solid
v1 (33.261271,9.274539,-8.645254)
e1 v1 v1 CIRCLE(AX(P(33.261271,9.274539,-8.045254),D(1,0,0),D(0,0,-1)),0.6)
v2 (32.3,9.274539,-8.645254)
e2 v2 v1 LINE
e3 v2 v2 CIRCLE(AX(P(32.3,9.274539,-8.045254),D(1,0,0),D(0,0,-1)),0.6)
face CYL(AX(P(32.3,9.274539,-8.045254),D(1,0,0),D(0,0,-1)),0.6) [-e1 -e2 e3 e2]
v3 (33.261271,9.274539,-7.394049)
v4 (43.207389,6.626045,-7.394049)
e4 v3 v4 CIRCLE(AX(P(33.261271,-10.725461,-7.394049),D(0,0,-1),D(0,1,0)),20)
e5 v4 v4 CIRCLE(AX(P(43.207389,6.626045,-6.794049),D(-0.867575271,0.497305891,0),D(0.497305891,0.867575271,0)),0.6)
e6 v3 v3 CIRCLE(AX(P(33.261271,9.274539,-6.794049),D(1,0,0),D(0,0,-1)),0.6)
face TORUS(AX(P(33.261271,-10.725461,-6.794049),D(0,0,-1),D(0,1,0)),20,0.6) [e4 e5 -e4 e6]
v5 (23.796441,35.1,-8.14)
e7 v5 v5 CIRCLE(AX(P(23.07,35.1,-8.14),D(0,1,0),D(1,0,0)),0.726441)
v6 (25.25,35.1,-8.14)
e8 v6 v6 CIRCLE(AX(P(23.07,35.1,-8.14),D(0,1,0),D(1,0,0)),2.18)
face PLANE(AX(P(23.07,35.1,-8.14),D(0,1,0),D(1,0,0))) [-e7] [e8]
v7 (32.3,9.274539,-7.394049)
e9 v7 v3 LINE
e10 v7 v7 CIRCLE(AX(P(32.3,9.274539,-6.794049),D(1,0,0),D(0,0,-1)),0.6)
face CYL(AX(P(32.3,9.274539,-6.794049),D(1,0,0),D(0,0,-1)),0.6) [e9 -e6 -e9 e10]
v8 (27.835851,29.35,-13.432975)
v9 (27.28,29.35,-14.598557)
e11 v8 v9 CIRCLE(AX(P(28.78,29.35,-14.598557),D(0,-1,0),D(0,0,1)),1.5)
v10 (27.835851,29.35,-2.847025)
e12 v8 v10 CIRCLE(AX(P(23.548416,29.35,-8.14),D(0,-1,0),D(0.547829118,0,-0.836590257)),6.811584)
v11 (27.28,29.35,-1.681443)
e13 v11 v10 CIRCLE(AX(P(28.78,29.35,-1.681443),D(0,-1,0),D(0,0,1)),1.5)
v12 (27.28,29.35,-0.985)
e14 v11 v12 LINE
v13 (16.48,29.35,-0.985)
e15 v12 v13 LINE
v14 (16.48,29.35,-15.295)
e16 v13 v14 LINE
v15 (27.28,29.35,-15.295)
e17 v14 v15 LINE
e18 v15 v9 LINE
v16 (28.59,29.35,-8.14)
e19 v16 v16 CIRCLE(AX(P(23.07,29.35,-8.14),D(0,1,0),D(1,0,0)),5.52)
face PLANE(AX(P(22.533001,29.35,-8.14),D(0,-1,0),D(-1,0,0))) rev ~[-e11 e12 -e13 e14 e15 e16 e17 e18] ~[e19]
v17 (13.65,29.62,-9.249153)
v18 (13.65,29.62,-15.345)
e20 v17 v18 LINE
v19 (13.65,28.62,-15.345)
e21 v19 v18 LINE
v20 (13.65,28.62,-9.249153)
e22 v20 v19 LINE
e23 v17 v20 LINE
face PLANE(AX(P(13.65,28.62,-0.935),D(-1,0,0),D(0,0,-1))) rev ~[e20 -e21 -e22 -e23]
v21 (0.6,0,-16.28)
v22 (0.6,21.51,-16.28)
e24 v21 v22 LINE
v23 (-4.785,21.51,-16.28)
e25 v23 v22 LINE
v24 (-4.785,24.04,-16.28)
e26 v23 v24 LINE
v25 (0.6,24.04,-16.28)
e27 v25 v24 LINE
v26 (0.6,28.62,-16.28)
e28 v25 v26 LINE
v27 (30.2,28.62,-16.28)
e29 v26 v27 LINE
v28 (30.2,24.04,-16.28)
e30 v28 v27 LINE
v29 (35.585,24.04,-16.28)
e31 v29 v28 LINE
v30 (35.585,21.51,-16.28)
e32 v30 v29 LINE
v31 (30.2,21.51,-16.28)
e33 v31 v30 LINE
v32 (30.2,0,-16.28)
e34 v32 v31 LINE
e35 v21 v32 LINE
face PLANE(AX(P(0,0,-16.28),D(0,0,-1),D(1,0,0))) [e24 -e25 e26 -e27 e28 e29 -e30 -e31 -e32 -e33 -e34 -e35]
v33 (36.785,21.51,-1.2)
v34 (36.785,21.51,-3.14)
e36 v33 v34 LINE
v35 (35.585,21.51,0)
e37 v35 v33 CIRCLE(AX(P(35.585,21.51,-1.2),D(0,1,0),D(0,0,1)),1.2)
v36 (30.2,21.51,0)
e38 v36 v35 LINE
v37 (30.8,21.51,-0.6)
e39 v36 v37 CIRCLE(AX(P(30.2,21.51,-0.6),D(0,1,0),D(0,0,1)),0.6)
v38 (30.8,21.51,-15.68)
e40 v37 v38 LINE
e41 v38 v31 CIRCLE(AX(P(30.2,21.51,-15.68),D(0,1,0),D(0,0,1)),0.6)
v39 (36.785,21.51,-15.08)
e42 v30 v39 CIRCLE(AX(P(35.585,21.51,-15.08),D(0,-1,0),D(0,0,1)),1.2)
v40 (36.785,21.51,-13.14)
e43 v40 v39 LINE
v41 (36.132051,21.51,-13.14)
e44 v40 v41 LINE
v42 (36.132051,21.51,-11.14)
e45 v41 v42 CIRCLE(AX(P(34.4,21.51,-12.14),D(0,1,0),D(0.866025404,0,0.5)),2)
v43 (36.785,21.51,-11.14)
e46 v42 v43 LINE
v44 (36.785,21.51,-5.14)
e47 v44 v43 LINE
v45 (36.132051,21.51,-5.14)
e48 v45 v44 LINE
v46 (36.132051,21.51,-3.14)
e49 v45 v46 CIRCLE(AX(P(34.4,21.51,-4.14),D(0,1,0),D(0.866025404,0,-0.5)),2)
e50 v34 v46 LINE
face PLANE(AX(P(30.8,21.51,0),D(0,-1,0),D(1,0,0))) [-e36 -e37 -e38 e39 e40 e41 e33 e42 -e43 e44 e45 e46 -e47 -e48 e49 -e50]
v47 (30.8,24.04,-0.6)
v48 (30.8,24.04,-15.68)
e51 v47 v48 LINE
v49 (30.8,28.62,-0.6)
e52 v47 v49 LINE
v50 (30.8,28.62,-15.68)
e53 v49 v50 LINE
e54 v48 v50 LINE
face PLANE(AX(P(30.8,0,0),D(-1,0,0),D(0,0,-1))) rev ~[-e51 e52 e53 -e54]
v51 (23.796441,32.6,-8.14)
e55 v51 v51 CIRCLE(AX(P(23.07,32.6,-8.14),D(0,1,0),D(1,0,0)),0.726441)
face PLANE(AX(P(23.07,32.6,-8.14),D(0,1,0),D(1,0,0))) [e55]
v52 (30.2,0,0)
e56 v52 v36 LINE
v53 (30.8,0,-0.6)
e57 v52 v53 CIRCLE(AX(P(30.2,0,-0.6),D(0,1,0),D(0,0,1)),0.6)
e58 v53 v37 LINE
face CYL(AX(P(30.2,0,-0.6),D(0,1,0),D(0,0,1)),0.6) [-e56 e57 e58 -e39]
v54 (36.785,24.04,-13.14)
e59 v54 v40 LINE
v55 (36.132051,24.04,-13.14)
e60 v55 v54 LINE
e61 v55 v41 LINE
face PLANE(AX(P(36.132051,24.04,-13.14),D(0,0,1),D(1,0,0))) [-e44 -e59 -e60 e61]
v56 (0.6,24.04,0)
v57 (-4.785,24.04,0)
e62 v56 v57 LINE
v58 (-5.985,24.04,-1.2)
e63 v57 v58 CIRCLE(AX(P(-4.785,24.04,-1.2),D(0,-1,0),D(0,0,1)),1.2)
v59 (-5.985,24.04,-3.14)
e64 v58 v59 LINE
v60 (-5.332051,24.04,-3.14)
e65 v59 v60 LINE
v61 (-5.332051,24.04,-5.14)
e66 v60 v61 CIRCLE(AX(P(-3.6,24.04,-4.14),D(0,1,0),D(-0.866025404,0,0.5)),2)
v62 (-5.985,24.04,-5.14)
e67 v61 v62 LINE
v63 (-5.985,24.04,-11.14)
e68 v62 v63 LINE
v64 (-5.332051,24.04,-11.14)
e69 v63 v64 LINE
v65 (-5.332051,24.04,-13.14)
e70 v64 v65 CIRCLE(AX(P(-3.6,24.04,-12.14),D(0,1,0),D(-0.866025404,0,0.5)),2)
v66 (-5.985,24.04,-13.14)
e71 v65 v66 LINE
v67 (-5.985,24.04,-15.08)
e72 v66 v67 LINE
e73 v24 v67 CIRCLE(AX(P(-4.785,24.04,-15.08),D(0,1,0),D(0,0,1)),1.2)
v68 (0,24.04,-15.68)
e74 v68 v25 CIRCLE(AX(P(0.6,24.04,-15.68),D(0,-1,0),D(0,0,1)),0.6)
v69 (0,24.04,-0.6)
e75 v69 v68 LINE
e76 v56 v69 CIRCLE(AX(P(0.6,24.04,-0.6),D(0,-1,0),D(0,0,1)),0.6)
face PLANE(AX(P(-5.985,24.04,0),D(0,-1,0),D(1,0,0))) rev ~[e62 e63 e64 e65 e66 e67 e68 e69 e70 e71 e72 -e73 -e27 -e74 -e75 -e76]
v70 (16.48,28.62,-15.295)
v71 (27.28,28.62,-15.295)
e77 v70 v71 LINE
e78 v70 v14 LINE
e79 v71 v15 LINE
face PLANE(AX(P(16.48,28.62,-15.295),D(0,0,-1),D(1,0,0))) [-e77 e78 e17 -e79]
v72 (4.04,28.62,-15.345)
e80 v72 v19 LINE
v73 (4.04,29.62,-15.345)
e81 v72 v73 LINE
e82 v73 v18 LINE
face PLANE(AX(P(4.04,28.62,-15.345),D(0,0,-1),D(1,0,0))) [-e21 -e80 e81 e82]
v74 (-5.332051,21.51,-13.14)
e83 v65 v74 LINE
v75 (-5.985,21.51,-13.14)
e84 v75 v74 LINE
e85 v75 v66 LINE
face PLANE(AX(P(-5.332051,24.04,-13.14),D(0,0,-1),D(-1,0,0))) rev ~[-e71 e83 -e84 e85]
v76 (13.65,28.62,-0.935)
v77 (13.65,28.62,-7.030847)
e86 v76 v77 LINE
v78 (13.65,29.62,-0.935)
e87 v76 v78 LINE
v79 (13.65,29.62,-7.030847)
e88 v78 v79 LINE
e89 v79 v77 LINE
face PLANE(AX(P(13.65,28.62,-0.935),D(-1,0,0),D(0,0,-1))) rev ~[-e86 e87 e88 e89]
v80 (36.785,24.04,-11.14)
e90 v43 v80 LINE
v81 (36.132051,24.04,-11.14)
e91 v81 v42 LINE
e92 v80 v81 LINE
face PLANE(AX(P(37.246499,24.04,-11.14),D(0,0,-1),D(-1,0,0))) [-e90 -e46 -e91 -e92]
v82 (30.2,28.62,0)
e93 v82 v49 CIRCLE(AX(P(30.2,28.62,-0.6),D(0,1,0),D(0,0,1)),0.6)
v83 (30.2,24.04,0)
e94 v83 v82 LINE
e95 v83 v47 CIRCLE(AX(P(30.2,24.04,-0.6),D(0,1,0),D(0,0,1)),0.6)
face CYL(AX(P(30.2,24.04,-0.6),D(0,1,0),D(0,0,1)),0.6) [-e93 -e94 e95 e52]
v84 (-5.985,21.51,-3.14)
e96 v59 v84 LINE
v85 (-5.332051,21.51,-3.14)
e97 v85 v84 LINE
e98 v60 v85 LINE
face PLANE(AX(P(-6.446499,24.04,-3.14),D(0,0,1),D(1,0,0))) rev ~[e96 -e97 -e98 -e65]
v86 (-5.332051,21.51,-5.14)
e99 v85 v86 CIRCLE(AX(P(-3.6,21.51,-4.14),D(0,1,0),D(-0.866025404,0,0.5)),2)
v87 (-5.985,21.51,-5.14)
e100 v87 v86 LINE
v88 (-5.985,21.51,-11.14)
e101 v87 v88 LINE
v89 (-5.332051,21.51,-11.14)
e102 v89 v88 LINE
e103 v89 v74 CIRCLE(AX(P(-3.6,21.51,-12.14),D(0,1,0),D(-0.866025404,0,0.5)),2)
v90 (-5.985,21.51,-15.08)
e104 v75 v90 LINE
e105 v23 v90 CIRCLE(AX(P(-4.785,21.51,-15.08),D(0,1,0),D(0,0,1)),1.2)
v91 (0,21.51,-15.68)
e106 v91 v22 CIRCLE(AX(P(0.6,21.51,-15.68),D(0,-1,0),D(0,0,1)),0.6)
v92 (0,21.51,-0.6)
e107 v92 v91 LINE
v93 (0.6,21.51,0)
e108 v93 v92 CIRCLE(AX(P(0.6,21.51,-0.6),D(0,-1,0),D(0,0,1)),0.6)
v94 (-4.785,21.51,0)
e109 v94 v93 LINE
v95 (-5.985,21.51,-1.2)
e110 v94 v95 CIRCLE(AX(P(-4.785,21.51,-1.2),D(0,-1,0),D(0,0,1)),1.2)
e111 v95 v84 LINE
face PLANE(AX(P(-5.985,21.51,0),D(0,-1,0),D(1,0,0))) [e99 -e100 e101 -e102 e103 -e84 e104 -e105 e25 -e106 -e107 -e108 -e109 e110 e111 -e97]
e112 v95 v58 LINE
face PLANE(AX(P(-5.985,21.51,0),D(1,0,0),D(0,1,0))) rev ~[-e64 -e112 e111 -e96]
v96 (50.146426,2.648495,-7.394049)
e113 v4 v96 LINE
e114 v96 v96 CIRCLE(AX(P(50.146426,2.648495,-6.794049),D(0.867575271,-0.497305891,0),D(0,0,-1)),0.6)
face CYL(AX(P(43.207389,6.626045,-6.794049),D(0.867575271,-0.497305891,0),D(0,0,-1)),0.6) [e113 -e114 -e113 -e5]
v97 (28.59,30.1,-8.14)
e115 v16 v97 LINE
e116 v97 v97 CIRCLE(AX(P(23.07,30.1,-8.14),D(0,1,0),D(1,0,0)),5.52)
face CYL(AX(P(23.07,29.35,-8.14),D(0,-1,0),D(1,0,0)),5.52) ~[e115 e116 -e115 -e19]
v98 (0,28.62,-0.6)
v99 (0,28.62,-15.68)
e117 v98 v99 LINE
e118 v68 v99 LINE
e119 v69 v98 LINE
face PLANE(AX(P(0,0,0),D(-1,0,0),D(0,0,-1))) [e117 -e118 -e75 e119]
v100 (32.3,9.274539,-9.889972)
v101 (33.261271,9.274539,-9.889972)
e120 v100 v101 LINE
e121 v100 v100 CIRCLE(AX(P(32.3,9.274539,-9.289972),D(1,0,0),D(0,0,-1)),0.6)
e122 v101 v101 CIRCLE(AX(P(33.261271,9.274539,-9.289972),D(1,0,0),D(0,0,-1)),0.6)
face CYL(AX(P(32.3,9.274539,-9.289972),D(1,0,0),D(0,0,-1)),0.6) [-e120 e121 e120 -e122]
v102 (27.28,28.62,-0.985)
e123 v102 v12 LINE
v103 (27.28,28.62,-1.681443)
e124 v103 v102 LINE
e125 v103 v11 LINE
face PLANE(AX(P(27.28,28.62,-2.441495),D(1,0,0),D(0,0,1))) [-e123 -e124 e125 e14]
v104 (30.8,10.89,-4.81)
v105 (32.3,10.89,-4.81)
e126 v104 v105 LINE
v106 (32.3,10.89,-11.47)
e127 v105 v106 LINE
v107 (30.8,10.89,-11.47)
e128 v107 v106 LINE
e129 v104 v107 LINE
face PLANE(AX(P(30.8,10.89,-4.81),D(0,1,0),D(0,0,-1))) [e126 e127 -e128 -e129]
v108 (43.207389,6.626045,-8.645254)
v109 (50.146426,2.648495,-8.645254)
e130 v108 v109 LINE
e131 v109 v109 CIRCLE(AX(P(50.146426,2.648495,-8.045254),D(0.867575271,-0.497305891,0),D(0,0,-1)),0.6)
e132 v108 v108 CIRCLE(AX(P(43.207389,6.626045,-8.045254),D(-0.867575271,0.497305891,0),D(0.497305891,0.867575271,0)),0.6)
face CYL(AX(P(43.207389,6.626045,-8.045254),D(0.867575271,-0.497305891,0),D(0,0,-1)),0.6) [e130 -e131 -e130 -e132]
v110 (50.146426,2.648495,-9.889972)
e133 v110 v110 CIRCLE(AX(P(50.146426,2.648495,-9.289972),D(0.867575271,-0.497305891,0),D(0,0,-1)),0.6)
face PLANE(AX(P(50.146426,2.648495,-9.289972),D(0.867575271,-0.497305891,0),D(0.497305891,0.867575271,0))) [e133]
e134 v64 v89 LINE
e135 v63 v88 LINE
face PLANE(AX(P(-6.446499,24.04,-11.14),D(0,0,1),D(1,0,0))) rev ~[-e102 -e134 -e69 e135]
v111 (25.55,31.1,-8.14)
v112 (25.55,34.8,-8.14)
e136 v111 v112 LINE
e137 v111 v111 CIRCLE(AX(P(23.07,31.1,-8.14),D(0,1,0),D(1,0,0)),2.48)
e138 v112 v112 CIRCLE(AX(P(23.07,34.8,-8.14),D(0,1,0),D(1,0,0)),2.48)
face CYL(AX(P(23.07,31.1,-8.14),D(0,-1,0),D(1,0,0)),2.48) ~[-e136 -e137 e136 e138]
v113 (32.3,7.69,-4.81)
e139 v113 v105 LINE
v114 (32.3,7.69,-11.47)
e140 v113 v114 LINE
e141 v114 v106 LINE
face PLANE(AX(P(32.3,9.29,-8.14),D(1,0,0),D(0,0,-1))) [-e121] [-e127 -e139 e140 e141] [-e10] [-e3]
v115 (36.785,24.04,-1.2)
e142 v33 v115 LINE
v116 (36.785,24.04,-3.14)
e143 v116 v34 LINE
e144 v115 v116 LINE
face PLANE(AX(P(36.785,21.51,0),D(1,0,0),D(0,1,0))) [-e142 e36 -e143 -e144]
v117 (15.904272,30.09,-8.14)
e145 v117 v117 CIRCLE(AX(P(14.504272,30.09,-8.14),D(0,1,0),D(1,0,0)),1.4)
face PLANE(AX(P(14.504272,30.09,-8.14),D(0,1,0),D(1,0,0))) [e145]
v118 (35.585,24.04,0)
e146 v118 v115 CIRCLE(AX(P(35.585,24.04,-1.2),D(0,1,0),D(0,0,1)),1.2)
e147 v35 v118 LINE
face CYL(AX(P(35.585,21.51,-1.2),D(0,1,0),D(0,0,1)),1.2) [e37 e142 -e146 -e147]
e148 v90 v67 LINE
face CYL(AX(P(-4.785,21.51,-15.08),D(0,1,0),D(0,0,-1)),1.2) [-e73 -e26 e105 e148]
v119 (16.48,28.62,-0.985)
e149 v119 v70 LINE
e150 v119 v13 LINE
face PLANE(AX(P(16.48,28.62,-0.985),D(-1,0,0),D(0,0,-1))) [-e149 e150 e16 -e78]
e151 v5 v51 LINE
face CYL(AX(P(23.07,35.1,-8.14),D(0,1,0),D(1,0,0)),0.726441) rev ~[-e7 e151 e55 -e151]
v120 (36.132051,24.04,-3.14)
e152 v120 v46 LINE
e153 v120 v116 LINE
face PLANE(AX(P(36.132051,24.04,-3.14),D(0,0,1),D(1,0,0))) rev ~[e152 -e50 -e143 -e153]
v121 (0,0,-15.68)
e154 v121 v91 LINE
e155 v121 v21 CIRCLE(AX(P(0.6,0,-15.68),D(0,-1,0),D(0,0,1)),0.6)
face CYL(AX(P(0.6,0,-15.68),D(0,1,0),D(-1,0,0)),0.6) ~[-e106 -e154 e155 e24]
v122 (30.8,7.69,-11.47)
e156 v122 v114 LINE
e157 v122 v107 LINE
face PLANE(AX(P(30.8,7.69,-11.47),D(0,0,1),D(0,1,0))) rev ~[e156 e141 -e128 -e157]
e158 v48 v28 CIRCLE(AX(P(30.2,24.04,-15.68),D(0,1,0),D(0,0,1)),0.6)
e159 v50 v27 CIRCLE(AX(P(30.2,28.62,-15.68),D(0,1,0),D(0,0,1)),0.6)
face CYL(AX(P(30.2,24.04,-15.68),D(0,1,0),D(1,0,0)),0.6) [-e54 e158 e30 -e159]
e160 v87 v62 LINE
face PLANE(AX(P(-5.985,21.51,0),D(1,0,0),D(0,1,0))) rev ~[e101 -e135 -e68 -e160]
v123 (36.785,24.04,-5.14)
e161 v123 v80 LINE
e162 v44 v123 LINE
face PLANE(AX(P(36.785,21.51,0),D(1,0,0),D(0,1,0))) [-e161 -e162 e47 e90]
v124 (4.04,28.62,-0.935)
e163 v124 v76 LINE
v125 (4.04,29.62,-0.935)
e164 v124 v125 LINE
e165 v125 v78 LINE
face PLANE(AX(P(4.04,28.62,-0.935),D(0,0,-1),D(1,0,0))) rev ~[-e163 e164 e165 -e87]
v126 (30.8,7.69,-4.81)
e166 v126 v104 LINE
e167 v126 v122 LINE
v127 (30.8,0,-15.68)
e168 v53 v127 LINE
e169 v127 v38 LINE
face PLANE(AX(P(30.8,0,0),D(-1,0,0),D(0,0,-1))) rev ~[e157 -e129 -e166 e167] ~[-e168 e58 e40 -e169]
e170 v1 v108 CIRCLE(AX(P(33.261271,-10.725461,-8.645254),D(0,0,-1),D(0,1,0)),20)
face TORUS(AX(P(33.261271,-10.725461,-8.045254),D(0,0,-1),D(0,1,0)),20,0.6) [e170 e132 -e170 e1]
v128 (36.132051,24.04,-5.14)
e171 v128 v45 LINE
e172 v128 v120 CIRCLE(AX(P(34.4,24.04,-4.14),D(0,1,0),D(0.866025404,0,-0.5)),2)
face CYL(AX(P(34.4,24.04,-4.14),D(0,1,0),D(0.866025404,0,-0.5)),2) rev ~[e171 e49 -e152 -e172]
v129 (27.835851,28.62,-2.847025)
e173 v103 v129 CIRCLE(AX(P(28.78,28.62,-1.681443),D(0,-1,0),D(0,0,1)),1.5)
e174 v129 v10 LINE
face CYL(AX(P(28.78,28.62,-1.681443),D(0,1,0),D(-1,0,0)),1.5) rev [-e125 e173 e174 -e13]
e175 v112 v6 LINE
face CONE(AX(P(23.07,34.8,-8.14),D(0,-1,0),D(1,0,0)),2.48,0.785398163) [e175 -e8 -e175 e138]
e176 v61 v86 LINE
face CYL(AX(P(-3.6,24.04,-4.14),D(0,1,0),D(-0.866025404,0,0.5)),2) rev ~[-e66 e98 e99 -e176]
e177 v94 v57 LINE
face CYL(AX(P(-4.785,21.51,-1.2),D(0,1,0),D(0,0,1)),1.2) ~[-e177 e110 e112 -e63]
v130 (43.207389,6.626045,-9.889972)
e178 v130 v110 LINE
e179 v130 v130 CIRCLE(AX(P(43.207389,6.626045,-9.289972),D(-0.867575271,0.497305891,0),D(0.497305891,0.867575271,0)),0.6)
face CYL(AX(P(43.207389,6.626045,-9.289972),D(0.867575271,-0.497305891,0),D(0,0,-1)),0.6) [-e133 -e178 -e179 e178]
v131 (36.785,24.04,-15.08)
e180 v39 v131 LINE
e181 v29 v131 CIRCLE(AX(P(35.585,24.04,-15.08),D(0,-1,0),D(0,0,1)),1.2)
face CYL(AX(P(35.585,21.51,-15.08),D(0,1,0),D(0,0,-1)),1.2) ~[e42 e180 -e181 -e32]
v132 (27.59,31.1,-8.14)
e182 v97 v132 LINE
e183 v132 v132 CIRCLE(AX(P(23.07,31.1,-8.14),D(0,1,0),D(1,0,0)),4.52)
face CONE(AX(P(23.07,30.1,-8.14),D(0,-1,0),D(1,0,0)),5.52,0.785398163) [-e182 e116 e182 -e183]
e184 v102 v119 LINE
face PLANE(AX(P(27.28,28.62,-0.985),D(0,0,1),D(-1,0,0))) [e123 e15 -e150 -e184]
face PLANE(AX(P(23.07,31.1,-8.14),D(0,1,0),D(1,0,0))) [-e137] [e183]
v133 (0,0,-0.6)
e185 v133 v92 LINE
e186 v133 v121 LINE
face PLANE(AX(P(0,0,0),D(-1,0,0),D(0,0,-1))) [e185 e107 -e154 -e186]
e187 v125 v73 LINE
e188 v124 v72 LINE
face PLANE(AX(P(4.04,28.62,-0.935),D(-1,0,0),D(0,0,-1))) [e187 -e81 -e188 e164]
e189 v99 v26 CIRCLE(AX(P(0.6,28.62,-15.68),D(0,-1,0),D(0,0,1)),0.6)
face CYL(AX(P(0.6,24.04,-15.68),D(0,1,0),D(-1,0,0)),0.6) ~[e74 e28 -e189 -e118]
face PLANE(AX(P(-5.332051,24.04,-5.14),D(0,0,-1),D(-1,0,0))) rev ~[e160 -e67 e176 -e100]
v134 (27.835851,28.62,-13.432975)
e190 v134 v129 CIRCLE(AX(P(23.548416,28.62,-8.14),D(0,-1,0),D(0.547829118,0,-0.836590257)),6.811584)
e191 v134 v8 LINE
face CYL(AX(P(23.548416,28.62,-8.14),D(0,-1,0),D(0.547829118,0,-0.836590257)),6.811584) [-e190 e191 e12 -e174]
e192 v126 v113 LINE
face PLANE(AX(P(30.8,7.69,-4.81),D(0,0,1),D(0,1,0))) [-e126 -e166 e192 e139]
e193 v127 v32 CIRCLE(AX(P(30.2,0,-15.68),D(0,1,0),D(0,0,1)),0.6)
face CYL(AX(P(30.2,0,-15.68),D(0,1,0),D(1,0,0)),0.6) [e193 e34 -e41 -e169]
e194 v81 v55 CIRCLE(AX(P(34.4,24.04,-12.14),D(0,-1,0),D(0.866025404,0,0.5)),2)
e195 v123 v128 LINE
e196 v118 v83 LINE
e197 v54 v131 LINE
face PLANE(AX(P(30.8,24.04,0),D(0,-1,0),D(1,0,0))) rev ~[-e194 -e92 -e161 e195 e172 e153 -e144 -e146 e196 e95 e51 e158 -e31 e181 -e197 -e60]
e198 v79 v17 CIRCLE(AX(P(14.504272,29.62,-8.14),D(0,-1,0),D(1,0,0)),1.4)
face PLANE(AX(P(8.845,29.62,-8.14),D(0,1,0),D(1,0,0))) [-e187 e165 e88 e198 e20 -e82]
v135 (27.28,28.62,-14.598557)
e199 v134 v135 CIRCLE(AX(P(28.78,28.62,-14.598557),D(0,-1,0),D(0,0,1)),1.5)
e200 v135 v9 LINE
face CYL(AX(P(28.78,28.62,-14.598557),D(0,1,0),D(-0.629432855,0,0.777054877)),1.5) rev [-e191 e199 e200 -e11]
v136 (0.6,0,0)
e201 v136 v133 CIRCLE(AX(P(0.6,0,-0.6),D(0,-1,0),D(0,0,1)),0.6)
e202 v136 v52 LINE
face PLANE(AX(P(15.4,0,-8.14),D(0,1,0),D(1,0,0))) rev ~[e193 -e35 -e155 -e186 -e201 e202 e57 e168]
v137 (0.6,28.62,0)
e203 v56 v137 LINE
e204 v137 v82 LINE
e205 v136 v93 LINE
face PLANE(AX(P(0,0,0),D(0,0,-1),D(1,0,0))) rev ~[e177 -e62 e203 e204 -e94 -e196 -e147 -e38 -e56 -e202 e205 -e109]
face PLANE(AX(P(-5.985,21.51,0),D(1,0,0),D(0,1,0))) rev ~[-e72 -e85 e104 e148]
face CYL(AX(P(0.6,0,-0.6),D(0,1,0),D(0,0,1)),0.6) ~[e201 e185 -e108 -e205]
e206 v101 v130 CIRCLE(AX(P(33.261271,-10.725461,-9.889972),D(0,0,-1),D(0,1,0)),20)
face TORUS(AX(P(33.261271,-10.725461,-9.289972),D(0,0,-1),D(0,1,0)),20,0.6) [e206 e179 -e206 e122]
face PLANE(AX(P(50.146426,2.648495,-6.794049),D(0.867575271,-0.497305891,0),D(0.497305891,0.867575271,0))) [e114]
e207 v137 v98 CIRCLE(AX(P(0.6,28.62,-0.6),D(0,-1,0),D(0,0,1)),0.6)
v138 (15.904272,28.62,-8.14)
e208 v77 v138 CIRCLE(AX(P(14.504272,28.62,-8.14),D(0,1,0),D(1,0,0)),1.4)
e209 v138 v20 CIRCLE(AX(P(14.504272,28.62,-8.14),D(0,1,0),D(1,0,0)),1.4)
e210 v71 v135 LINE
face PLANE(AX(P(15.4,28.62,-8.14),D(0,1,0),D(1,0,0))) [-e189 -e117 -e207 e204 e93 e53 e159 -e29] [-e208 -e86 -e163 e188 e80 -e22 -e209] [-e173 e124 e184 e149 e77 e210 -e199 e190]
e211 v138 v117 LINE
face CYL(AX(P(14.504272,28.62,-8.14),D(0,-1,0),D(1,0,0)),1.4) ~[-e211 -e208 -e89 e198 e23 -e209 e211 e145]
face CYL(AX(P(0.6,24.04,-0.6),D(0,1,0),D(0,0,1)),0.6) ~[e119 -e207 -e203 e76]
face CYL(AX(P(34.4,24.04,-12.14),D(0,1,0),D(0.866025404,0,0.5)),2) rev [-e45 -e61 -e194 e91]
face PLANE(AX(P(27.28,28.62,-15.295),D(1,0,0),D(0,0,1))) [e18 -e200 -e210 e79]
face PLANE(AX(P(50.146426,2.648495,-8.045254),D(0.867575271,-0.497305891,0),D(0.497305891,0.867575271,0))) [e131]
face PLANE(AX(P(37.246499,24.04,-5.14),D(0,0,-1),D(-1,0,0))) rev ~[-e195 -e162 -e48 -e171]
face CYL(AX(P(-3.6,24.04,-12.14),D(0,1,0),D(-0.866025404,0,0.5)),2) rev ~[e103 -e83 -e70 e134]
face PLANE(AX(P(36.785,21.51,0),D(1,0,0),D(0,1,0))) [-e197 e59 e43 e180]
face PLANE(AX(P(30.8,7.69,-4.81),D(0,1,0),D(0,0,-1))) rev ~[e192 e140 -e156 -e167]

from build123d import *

# Parameters (mm, degrees)
SKETCH1_W           = 30.8
SKETCH1_H           = 16.28
BOSS_EXTRUDE1_DEPTH = 28.62
SKETCH3_W           = 5.985
SKETCH3_H           = 2.53
BOSS_EXTRUDE2_DEPTH = 16.28
SKETCH4_W           = 9.61
SKETCH4_H           = 14.41
BOSS_EXTRUDE3_DEPTH = 1
BOSS_EXTRUDE4_DEPTH = 0.73
SKETCH6_R           = 5.52
BOSS_EXTRUDE5_DEPTH = 1.75
CHAMFER1_SIZE       = 1
FILLET1_R           = 1.5
SKETCH7_R           = 1.4
BOSS_EXTRUDE6_DEPTH = 1.47
SKETCH8_R           = 2.48
BOSS_EXTRUDE7_DEPTH = 4
CUT_EXTRUDE1_DEPTH  = 4
SKETCH10_W          = 6.66
SKETCH10_H          = 3.2
BOSS_EXTRUDE8_DEPTH = 1.5
SKETCH11_R          = 0.6
FILLET2_R           = 1.2
FILLET3_R           = 0.6
CHAMFER2_SIZE       = 0.3
SKETCH13_R          = 0.726441042
CUT_EXTRUDE2_DEPTH  = 2.5


with BuildPart() as part:
    # Sketch1 → Boss-Extrude1 (new body)
    with BuildSketch(Plane(origin=(0, 0, 0), x_dir=(1, 0, 0), z_dir=(0, 1, 0))):
        with Locations((15.4, 8.14)):
            Rectangle(SKETCH1_W, SKETCH1_H)
    extrude(amount=BOSS_EXTRUDE1_DEPTH)

    # Sketch3 → Boss-Extrude2 (add)
    with BuildSketch(Plane.XY):
        with Locations((33.7925, 22.775)):
            Rectangle(SKETCH3_W, SKETCH3_H)
        with Locations((-2.9925, 22.775)):
            Rectangle(SKETCH3_W, SKETCH3_H)
    extrude(amount=-BOSS_EXTRUDE2_DEPTH)

    # Sketch4 → Boss-Extrude3 (add)
    with BuildSketch(Plane(origin=(0, 28.62, 0), x_dir=(1, 0, 0), z_dir=(0, 1, 0))):
        with Locations((8.845, 8.14)):
            Rectangle(SKETCH4_W, SKETCH4_H)
    extrude(amount=BOSS_EXTRUDE3_DEPTH)

    # Sketch5 → Boss-Extrude4 (add)
    with BuildSketch(Plane(origin=(0, 28.62, 0), x_dir=(1, 0, 0), z_dir=(0, 1, 0))):
        with BuildLine():
            Line((27.28, 0.985), (16.48, 0.985))
            Line((16.48, 0.985), (16.48, 15.295))
            Line((16.48, 15.295), (27.28, 15.295))
            Line((27.28, 15.295), (27.28, 13.838504907))
            ThreePointArc((27.28, 13.838504907), (30.36, 8.14), (27.28, 2.441495093))
            Line((27.28, 2.441495093), (27.28, 0.985))
        make_face()
    extrude(amount=BOSS_EXTRUDE4_DEPTH)

    # Sketch6 → Boss-Extrude5 (add)
    with BuildSketch(Plane(origin=(0, 29.35, 0), x_dir=(1, 0, 0), z_dir=(0, 1, 0))):
        with Locations((23.07, 8.14)):
            Circle(SKETCH6_R)
    extrude(amount=BOSS_EXTRUDE5_DEPTH)

    # Chamfer1
    chamfer1_edges = [part.edges().sort_by_distance(p)[0] for p in [
        (17.55, 31.1, -8.14),
    ]]
    chamfer(chamfer1_edges, length=CHAMFER1_SIZE)

    # Fillet1
    fillet1_edges = [part.edges().sort_by_distance(p)[0] for p in [
        (27.28, 28.985, -2.441495093),
        (27.28, 28.985, -13.838504907),
    ]]
    fillet(fillet1_edges, radius=FILLET1_R)

    # Sketch7 → Boss-Extrude6 (add)
    with BuildSketch(Plane(origin=(0, 28.62, 0), x_dir=(1, 0, 0), z_dir=(0, 1, 0))):
        with Locations((14.504271984, 8.14)):
            Circle(SKETCH7_R)
    extrude(amount=BOSS_EXTRUDE6_DEPTH)

    # Sketch8 → Boss-Extrude7 (add)
    with BuildSketch(Plane(origin=(0, 31.1, 0), x_dir=(1, 0, 0), z_dir=(0, 1, 0))):
        with Locations((23.07, 8.14)):
            Circle(SKETCH8_R)
    extrude(amount=BOSS_EXTRUDE7_DEPTH)

    # Sketch9 → Cut-Extrude1 (cut)
    with BuildSketch(Plane(origin=(0, 24.04, 0), x_dir=(1, 0, 0), z_dir=(0, 1, 0))):
        with BuildLine():
            Line((37.246499074, 13.14), (37.246499074, 11.14))
            Line((37.246499074, 11.14), (36.132050808, 11.14))
            ThreePointArc((36.132050808, 11.14), (32.4, 12.14), (36.132050808, 13.14))
            Line((36.132050808, 13.14), (37.246499074, 13.14))
        make_face()
        with BuildLine():
            Line((36.132050808, 3.14), (37.246499074, 3.14))
            Line((37.246499074, 3.14), (37.246499074, 5.14))
            Line((37.246499074, 5.14), (36.132050808, 5.14))
            ThreePointArc((36.132050808, 5.14), (32.4, 4.14), (36.132050808, 3.14))
        make_face()
        with BuildLine():
            Line((-5.332050808, 5.14), (-6.446499074, 5.14))
            Line((-6.446499074, 5.14), (-6.446499074, 3.14))
            Line((-6.446499074, 3.14), (-5.332050808, 3.14))
            ThreePointArc((-5.332050808, 3.14), (-1.6, 4.14), (-5.332050808, 5.14))
        make_face()
        with BuildLine():
            Line((-5.332050808, 13.14), (-6.446499074, 13.14))
            Line((-6.446499074, 13.14), (-6.446499074, 11.14))
            Line((-6.446499074, 11.14), (-5.332050808, 11.14))
            ThreePointArc((-5.332050808, 11.14), (-1.6, 12.14), (-5.332050808, 13.14))
        make_face()
    extrude(amount=-CUT_EXTRUDE1_DEPTH, mode=Mode.SUBTRACT)

    # Sketch10 → Boss-Extrude8 (add)
    with BuildSketch(Plane(origin=(30.8, 0, 0), x_dir=(0, 0, -1), z_dir=(1, 0, 0))):
        with Locations((8.14, 9.29)):
            Rectangle(SKETCH10_W, SKETCH10_H)
    extrude(amount=BOSS_EXTRUDE8_DEPTH)

    # Sweep1: sweep along a path in Sketch12
    with BuildLine(Plane(origin=(0, 0, -8.14), x_dir=(-1, 0, 0), z_dir=(0, 0, -1))) as sweep1_path:
        Line((-32.3, 9.27453939), (-33.261270846, 9.27453939))
        ThreePointArc((-33.261270846, 9.27453939), (-38.407623516, 8.601076954), (-43.207388666, 6.626044809))
        Line((-43.207388666, 6.626044809), (-50.146426146, 2.648494581))
    # Sketch11 → Sweep1 (sweep)
    with BuildSketch(Plane(origin=(32.3, 0, 0), x_dir=(0, 0, -1), z_dir=(1, 0, 0))):
        with Locations((6.7940488, 9.27453939)):
            Circle(SKETCH11_R)
        with Locations((8.045254391, 9.27453939)):
            Circle(SKETCH11_R)
        with Locations((9.289971537, 9.27453939)):
            Circle(SKETCH11_R)
    sweep(path=sweep1_path.line)

    # Fillet2
    fillet2_edges = [part.edges().sort_by_distance(p)[0] for p in [
        (-5.985, 22.775, 0),
        (-5.985, 22.775, -16.28),
        (36.785, 22.775, 0),
        (36.785, 22.775, -16.28),
    ]]
    fillet(fillet2_edges, radius=FILLET2_R)

    # Fillet3
    fillet3_edges = [part.edges().sort_by_distance(p)[0] for p in [
        (0, 26.33, 0),
        (0, 10.755, 0),
        (30.8, 10.755, 0),
        (0, 10.755, -16.28),
        (0, 26.33, -16.28),
        (30.8, 26.33, 0),
        (30.8, 26.33, -16.28),
        (30.8, 10.755, -16.28),
    ]]
    fillet(fillet3_edges, radius=FILLET3_R)

    # Chamfer2
    chamfer2_edges = [part.edges().sort_by_distance(p)[0] for p in [
        (20.59, 35.1, -8.14),
    ]]
    chamfer(chamfer2_edges, length=CHAMFER2_SIZE)

    # Sketch13 → Cut-Extrude2 (cut)
    with BuildSketch(Plane(origin=(0, 35.1, 0), x_dir=(1, 0, 0), z_dir=(0, 1, 0))):
        with Locations((23.07, 8.14)):
            Circle(SKETCH13_R)
    extrude(amount=-CUT_EXTRUDE2_DEPTH, mode=Mode.SUBTRACT)


solid = part.part
